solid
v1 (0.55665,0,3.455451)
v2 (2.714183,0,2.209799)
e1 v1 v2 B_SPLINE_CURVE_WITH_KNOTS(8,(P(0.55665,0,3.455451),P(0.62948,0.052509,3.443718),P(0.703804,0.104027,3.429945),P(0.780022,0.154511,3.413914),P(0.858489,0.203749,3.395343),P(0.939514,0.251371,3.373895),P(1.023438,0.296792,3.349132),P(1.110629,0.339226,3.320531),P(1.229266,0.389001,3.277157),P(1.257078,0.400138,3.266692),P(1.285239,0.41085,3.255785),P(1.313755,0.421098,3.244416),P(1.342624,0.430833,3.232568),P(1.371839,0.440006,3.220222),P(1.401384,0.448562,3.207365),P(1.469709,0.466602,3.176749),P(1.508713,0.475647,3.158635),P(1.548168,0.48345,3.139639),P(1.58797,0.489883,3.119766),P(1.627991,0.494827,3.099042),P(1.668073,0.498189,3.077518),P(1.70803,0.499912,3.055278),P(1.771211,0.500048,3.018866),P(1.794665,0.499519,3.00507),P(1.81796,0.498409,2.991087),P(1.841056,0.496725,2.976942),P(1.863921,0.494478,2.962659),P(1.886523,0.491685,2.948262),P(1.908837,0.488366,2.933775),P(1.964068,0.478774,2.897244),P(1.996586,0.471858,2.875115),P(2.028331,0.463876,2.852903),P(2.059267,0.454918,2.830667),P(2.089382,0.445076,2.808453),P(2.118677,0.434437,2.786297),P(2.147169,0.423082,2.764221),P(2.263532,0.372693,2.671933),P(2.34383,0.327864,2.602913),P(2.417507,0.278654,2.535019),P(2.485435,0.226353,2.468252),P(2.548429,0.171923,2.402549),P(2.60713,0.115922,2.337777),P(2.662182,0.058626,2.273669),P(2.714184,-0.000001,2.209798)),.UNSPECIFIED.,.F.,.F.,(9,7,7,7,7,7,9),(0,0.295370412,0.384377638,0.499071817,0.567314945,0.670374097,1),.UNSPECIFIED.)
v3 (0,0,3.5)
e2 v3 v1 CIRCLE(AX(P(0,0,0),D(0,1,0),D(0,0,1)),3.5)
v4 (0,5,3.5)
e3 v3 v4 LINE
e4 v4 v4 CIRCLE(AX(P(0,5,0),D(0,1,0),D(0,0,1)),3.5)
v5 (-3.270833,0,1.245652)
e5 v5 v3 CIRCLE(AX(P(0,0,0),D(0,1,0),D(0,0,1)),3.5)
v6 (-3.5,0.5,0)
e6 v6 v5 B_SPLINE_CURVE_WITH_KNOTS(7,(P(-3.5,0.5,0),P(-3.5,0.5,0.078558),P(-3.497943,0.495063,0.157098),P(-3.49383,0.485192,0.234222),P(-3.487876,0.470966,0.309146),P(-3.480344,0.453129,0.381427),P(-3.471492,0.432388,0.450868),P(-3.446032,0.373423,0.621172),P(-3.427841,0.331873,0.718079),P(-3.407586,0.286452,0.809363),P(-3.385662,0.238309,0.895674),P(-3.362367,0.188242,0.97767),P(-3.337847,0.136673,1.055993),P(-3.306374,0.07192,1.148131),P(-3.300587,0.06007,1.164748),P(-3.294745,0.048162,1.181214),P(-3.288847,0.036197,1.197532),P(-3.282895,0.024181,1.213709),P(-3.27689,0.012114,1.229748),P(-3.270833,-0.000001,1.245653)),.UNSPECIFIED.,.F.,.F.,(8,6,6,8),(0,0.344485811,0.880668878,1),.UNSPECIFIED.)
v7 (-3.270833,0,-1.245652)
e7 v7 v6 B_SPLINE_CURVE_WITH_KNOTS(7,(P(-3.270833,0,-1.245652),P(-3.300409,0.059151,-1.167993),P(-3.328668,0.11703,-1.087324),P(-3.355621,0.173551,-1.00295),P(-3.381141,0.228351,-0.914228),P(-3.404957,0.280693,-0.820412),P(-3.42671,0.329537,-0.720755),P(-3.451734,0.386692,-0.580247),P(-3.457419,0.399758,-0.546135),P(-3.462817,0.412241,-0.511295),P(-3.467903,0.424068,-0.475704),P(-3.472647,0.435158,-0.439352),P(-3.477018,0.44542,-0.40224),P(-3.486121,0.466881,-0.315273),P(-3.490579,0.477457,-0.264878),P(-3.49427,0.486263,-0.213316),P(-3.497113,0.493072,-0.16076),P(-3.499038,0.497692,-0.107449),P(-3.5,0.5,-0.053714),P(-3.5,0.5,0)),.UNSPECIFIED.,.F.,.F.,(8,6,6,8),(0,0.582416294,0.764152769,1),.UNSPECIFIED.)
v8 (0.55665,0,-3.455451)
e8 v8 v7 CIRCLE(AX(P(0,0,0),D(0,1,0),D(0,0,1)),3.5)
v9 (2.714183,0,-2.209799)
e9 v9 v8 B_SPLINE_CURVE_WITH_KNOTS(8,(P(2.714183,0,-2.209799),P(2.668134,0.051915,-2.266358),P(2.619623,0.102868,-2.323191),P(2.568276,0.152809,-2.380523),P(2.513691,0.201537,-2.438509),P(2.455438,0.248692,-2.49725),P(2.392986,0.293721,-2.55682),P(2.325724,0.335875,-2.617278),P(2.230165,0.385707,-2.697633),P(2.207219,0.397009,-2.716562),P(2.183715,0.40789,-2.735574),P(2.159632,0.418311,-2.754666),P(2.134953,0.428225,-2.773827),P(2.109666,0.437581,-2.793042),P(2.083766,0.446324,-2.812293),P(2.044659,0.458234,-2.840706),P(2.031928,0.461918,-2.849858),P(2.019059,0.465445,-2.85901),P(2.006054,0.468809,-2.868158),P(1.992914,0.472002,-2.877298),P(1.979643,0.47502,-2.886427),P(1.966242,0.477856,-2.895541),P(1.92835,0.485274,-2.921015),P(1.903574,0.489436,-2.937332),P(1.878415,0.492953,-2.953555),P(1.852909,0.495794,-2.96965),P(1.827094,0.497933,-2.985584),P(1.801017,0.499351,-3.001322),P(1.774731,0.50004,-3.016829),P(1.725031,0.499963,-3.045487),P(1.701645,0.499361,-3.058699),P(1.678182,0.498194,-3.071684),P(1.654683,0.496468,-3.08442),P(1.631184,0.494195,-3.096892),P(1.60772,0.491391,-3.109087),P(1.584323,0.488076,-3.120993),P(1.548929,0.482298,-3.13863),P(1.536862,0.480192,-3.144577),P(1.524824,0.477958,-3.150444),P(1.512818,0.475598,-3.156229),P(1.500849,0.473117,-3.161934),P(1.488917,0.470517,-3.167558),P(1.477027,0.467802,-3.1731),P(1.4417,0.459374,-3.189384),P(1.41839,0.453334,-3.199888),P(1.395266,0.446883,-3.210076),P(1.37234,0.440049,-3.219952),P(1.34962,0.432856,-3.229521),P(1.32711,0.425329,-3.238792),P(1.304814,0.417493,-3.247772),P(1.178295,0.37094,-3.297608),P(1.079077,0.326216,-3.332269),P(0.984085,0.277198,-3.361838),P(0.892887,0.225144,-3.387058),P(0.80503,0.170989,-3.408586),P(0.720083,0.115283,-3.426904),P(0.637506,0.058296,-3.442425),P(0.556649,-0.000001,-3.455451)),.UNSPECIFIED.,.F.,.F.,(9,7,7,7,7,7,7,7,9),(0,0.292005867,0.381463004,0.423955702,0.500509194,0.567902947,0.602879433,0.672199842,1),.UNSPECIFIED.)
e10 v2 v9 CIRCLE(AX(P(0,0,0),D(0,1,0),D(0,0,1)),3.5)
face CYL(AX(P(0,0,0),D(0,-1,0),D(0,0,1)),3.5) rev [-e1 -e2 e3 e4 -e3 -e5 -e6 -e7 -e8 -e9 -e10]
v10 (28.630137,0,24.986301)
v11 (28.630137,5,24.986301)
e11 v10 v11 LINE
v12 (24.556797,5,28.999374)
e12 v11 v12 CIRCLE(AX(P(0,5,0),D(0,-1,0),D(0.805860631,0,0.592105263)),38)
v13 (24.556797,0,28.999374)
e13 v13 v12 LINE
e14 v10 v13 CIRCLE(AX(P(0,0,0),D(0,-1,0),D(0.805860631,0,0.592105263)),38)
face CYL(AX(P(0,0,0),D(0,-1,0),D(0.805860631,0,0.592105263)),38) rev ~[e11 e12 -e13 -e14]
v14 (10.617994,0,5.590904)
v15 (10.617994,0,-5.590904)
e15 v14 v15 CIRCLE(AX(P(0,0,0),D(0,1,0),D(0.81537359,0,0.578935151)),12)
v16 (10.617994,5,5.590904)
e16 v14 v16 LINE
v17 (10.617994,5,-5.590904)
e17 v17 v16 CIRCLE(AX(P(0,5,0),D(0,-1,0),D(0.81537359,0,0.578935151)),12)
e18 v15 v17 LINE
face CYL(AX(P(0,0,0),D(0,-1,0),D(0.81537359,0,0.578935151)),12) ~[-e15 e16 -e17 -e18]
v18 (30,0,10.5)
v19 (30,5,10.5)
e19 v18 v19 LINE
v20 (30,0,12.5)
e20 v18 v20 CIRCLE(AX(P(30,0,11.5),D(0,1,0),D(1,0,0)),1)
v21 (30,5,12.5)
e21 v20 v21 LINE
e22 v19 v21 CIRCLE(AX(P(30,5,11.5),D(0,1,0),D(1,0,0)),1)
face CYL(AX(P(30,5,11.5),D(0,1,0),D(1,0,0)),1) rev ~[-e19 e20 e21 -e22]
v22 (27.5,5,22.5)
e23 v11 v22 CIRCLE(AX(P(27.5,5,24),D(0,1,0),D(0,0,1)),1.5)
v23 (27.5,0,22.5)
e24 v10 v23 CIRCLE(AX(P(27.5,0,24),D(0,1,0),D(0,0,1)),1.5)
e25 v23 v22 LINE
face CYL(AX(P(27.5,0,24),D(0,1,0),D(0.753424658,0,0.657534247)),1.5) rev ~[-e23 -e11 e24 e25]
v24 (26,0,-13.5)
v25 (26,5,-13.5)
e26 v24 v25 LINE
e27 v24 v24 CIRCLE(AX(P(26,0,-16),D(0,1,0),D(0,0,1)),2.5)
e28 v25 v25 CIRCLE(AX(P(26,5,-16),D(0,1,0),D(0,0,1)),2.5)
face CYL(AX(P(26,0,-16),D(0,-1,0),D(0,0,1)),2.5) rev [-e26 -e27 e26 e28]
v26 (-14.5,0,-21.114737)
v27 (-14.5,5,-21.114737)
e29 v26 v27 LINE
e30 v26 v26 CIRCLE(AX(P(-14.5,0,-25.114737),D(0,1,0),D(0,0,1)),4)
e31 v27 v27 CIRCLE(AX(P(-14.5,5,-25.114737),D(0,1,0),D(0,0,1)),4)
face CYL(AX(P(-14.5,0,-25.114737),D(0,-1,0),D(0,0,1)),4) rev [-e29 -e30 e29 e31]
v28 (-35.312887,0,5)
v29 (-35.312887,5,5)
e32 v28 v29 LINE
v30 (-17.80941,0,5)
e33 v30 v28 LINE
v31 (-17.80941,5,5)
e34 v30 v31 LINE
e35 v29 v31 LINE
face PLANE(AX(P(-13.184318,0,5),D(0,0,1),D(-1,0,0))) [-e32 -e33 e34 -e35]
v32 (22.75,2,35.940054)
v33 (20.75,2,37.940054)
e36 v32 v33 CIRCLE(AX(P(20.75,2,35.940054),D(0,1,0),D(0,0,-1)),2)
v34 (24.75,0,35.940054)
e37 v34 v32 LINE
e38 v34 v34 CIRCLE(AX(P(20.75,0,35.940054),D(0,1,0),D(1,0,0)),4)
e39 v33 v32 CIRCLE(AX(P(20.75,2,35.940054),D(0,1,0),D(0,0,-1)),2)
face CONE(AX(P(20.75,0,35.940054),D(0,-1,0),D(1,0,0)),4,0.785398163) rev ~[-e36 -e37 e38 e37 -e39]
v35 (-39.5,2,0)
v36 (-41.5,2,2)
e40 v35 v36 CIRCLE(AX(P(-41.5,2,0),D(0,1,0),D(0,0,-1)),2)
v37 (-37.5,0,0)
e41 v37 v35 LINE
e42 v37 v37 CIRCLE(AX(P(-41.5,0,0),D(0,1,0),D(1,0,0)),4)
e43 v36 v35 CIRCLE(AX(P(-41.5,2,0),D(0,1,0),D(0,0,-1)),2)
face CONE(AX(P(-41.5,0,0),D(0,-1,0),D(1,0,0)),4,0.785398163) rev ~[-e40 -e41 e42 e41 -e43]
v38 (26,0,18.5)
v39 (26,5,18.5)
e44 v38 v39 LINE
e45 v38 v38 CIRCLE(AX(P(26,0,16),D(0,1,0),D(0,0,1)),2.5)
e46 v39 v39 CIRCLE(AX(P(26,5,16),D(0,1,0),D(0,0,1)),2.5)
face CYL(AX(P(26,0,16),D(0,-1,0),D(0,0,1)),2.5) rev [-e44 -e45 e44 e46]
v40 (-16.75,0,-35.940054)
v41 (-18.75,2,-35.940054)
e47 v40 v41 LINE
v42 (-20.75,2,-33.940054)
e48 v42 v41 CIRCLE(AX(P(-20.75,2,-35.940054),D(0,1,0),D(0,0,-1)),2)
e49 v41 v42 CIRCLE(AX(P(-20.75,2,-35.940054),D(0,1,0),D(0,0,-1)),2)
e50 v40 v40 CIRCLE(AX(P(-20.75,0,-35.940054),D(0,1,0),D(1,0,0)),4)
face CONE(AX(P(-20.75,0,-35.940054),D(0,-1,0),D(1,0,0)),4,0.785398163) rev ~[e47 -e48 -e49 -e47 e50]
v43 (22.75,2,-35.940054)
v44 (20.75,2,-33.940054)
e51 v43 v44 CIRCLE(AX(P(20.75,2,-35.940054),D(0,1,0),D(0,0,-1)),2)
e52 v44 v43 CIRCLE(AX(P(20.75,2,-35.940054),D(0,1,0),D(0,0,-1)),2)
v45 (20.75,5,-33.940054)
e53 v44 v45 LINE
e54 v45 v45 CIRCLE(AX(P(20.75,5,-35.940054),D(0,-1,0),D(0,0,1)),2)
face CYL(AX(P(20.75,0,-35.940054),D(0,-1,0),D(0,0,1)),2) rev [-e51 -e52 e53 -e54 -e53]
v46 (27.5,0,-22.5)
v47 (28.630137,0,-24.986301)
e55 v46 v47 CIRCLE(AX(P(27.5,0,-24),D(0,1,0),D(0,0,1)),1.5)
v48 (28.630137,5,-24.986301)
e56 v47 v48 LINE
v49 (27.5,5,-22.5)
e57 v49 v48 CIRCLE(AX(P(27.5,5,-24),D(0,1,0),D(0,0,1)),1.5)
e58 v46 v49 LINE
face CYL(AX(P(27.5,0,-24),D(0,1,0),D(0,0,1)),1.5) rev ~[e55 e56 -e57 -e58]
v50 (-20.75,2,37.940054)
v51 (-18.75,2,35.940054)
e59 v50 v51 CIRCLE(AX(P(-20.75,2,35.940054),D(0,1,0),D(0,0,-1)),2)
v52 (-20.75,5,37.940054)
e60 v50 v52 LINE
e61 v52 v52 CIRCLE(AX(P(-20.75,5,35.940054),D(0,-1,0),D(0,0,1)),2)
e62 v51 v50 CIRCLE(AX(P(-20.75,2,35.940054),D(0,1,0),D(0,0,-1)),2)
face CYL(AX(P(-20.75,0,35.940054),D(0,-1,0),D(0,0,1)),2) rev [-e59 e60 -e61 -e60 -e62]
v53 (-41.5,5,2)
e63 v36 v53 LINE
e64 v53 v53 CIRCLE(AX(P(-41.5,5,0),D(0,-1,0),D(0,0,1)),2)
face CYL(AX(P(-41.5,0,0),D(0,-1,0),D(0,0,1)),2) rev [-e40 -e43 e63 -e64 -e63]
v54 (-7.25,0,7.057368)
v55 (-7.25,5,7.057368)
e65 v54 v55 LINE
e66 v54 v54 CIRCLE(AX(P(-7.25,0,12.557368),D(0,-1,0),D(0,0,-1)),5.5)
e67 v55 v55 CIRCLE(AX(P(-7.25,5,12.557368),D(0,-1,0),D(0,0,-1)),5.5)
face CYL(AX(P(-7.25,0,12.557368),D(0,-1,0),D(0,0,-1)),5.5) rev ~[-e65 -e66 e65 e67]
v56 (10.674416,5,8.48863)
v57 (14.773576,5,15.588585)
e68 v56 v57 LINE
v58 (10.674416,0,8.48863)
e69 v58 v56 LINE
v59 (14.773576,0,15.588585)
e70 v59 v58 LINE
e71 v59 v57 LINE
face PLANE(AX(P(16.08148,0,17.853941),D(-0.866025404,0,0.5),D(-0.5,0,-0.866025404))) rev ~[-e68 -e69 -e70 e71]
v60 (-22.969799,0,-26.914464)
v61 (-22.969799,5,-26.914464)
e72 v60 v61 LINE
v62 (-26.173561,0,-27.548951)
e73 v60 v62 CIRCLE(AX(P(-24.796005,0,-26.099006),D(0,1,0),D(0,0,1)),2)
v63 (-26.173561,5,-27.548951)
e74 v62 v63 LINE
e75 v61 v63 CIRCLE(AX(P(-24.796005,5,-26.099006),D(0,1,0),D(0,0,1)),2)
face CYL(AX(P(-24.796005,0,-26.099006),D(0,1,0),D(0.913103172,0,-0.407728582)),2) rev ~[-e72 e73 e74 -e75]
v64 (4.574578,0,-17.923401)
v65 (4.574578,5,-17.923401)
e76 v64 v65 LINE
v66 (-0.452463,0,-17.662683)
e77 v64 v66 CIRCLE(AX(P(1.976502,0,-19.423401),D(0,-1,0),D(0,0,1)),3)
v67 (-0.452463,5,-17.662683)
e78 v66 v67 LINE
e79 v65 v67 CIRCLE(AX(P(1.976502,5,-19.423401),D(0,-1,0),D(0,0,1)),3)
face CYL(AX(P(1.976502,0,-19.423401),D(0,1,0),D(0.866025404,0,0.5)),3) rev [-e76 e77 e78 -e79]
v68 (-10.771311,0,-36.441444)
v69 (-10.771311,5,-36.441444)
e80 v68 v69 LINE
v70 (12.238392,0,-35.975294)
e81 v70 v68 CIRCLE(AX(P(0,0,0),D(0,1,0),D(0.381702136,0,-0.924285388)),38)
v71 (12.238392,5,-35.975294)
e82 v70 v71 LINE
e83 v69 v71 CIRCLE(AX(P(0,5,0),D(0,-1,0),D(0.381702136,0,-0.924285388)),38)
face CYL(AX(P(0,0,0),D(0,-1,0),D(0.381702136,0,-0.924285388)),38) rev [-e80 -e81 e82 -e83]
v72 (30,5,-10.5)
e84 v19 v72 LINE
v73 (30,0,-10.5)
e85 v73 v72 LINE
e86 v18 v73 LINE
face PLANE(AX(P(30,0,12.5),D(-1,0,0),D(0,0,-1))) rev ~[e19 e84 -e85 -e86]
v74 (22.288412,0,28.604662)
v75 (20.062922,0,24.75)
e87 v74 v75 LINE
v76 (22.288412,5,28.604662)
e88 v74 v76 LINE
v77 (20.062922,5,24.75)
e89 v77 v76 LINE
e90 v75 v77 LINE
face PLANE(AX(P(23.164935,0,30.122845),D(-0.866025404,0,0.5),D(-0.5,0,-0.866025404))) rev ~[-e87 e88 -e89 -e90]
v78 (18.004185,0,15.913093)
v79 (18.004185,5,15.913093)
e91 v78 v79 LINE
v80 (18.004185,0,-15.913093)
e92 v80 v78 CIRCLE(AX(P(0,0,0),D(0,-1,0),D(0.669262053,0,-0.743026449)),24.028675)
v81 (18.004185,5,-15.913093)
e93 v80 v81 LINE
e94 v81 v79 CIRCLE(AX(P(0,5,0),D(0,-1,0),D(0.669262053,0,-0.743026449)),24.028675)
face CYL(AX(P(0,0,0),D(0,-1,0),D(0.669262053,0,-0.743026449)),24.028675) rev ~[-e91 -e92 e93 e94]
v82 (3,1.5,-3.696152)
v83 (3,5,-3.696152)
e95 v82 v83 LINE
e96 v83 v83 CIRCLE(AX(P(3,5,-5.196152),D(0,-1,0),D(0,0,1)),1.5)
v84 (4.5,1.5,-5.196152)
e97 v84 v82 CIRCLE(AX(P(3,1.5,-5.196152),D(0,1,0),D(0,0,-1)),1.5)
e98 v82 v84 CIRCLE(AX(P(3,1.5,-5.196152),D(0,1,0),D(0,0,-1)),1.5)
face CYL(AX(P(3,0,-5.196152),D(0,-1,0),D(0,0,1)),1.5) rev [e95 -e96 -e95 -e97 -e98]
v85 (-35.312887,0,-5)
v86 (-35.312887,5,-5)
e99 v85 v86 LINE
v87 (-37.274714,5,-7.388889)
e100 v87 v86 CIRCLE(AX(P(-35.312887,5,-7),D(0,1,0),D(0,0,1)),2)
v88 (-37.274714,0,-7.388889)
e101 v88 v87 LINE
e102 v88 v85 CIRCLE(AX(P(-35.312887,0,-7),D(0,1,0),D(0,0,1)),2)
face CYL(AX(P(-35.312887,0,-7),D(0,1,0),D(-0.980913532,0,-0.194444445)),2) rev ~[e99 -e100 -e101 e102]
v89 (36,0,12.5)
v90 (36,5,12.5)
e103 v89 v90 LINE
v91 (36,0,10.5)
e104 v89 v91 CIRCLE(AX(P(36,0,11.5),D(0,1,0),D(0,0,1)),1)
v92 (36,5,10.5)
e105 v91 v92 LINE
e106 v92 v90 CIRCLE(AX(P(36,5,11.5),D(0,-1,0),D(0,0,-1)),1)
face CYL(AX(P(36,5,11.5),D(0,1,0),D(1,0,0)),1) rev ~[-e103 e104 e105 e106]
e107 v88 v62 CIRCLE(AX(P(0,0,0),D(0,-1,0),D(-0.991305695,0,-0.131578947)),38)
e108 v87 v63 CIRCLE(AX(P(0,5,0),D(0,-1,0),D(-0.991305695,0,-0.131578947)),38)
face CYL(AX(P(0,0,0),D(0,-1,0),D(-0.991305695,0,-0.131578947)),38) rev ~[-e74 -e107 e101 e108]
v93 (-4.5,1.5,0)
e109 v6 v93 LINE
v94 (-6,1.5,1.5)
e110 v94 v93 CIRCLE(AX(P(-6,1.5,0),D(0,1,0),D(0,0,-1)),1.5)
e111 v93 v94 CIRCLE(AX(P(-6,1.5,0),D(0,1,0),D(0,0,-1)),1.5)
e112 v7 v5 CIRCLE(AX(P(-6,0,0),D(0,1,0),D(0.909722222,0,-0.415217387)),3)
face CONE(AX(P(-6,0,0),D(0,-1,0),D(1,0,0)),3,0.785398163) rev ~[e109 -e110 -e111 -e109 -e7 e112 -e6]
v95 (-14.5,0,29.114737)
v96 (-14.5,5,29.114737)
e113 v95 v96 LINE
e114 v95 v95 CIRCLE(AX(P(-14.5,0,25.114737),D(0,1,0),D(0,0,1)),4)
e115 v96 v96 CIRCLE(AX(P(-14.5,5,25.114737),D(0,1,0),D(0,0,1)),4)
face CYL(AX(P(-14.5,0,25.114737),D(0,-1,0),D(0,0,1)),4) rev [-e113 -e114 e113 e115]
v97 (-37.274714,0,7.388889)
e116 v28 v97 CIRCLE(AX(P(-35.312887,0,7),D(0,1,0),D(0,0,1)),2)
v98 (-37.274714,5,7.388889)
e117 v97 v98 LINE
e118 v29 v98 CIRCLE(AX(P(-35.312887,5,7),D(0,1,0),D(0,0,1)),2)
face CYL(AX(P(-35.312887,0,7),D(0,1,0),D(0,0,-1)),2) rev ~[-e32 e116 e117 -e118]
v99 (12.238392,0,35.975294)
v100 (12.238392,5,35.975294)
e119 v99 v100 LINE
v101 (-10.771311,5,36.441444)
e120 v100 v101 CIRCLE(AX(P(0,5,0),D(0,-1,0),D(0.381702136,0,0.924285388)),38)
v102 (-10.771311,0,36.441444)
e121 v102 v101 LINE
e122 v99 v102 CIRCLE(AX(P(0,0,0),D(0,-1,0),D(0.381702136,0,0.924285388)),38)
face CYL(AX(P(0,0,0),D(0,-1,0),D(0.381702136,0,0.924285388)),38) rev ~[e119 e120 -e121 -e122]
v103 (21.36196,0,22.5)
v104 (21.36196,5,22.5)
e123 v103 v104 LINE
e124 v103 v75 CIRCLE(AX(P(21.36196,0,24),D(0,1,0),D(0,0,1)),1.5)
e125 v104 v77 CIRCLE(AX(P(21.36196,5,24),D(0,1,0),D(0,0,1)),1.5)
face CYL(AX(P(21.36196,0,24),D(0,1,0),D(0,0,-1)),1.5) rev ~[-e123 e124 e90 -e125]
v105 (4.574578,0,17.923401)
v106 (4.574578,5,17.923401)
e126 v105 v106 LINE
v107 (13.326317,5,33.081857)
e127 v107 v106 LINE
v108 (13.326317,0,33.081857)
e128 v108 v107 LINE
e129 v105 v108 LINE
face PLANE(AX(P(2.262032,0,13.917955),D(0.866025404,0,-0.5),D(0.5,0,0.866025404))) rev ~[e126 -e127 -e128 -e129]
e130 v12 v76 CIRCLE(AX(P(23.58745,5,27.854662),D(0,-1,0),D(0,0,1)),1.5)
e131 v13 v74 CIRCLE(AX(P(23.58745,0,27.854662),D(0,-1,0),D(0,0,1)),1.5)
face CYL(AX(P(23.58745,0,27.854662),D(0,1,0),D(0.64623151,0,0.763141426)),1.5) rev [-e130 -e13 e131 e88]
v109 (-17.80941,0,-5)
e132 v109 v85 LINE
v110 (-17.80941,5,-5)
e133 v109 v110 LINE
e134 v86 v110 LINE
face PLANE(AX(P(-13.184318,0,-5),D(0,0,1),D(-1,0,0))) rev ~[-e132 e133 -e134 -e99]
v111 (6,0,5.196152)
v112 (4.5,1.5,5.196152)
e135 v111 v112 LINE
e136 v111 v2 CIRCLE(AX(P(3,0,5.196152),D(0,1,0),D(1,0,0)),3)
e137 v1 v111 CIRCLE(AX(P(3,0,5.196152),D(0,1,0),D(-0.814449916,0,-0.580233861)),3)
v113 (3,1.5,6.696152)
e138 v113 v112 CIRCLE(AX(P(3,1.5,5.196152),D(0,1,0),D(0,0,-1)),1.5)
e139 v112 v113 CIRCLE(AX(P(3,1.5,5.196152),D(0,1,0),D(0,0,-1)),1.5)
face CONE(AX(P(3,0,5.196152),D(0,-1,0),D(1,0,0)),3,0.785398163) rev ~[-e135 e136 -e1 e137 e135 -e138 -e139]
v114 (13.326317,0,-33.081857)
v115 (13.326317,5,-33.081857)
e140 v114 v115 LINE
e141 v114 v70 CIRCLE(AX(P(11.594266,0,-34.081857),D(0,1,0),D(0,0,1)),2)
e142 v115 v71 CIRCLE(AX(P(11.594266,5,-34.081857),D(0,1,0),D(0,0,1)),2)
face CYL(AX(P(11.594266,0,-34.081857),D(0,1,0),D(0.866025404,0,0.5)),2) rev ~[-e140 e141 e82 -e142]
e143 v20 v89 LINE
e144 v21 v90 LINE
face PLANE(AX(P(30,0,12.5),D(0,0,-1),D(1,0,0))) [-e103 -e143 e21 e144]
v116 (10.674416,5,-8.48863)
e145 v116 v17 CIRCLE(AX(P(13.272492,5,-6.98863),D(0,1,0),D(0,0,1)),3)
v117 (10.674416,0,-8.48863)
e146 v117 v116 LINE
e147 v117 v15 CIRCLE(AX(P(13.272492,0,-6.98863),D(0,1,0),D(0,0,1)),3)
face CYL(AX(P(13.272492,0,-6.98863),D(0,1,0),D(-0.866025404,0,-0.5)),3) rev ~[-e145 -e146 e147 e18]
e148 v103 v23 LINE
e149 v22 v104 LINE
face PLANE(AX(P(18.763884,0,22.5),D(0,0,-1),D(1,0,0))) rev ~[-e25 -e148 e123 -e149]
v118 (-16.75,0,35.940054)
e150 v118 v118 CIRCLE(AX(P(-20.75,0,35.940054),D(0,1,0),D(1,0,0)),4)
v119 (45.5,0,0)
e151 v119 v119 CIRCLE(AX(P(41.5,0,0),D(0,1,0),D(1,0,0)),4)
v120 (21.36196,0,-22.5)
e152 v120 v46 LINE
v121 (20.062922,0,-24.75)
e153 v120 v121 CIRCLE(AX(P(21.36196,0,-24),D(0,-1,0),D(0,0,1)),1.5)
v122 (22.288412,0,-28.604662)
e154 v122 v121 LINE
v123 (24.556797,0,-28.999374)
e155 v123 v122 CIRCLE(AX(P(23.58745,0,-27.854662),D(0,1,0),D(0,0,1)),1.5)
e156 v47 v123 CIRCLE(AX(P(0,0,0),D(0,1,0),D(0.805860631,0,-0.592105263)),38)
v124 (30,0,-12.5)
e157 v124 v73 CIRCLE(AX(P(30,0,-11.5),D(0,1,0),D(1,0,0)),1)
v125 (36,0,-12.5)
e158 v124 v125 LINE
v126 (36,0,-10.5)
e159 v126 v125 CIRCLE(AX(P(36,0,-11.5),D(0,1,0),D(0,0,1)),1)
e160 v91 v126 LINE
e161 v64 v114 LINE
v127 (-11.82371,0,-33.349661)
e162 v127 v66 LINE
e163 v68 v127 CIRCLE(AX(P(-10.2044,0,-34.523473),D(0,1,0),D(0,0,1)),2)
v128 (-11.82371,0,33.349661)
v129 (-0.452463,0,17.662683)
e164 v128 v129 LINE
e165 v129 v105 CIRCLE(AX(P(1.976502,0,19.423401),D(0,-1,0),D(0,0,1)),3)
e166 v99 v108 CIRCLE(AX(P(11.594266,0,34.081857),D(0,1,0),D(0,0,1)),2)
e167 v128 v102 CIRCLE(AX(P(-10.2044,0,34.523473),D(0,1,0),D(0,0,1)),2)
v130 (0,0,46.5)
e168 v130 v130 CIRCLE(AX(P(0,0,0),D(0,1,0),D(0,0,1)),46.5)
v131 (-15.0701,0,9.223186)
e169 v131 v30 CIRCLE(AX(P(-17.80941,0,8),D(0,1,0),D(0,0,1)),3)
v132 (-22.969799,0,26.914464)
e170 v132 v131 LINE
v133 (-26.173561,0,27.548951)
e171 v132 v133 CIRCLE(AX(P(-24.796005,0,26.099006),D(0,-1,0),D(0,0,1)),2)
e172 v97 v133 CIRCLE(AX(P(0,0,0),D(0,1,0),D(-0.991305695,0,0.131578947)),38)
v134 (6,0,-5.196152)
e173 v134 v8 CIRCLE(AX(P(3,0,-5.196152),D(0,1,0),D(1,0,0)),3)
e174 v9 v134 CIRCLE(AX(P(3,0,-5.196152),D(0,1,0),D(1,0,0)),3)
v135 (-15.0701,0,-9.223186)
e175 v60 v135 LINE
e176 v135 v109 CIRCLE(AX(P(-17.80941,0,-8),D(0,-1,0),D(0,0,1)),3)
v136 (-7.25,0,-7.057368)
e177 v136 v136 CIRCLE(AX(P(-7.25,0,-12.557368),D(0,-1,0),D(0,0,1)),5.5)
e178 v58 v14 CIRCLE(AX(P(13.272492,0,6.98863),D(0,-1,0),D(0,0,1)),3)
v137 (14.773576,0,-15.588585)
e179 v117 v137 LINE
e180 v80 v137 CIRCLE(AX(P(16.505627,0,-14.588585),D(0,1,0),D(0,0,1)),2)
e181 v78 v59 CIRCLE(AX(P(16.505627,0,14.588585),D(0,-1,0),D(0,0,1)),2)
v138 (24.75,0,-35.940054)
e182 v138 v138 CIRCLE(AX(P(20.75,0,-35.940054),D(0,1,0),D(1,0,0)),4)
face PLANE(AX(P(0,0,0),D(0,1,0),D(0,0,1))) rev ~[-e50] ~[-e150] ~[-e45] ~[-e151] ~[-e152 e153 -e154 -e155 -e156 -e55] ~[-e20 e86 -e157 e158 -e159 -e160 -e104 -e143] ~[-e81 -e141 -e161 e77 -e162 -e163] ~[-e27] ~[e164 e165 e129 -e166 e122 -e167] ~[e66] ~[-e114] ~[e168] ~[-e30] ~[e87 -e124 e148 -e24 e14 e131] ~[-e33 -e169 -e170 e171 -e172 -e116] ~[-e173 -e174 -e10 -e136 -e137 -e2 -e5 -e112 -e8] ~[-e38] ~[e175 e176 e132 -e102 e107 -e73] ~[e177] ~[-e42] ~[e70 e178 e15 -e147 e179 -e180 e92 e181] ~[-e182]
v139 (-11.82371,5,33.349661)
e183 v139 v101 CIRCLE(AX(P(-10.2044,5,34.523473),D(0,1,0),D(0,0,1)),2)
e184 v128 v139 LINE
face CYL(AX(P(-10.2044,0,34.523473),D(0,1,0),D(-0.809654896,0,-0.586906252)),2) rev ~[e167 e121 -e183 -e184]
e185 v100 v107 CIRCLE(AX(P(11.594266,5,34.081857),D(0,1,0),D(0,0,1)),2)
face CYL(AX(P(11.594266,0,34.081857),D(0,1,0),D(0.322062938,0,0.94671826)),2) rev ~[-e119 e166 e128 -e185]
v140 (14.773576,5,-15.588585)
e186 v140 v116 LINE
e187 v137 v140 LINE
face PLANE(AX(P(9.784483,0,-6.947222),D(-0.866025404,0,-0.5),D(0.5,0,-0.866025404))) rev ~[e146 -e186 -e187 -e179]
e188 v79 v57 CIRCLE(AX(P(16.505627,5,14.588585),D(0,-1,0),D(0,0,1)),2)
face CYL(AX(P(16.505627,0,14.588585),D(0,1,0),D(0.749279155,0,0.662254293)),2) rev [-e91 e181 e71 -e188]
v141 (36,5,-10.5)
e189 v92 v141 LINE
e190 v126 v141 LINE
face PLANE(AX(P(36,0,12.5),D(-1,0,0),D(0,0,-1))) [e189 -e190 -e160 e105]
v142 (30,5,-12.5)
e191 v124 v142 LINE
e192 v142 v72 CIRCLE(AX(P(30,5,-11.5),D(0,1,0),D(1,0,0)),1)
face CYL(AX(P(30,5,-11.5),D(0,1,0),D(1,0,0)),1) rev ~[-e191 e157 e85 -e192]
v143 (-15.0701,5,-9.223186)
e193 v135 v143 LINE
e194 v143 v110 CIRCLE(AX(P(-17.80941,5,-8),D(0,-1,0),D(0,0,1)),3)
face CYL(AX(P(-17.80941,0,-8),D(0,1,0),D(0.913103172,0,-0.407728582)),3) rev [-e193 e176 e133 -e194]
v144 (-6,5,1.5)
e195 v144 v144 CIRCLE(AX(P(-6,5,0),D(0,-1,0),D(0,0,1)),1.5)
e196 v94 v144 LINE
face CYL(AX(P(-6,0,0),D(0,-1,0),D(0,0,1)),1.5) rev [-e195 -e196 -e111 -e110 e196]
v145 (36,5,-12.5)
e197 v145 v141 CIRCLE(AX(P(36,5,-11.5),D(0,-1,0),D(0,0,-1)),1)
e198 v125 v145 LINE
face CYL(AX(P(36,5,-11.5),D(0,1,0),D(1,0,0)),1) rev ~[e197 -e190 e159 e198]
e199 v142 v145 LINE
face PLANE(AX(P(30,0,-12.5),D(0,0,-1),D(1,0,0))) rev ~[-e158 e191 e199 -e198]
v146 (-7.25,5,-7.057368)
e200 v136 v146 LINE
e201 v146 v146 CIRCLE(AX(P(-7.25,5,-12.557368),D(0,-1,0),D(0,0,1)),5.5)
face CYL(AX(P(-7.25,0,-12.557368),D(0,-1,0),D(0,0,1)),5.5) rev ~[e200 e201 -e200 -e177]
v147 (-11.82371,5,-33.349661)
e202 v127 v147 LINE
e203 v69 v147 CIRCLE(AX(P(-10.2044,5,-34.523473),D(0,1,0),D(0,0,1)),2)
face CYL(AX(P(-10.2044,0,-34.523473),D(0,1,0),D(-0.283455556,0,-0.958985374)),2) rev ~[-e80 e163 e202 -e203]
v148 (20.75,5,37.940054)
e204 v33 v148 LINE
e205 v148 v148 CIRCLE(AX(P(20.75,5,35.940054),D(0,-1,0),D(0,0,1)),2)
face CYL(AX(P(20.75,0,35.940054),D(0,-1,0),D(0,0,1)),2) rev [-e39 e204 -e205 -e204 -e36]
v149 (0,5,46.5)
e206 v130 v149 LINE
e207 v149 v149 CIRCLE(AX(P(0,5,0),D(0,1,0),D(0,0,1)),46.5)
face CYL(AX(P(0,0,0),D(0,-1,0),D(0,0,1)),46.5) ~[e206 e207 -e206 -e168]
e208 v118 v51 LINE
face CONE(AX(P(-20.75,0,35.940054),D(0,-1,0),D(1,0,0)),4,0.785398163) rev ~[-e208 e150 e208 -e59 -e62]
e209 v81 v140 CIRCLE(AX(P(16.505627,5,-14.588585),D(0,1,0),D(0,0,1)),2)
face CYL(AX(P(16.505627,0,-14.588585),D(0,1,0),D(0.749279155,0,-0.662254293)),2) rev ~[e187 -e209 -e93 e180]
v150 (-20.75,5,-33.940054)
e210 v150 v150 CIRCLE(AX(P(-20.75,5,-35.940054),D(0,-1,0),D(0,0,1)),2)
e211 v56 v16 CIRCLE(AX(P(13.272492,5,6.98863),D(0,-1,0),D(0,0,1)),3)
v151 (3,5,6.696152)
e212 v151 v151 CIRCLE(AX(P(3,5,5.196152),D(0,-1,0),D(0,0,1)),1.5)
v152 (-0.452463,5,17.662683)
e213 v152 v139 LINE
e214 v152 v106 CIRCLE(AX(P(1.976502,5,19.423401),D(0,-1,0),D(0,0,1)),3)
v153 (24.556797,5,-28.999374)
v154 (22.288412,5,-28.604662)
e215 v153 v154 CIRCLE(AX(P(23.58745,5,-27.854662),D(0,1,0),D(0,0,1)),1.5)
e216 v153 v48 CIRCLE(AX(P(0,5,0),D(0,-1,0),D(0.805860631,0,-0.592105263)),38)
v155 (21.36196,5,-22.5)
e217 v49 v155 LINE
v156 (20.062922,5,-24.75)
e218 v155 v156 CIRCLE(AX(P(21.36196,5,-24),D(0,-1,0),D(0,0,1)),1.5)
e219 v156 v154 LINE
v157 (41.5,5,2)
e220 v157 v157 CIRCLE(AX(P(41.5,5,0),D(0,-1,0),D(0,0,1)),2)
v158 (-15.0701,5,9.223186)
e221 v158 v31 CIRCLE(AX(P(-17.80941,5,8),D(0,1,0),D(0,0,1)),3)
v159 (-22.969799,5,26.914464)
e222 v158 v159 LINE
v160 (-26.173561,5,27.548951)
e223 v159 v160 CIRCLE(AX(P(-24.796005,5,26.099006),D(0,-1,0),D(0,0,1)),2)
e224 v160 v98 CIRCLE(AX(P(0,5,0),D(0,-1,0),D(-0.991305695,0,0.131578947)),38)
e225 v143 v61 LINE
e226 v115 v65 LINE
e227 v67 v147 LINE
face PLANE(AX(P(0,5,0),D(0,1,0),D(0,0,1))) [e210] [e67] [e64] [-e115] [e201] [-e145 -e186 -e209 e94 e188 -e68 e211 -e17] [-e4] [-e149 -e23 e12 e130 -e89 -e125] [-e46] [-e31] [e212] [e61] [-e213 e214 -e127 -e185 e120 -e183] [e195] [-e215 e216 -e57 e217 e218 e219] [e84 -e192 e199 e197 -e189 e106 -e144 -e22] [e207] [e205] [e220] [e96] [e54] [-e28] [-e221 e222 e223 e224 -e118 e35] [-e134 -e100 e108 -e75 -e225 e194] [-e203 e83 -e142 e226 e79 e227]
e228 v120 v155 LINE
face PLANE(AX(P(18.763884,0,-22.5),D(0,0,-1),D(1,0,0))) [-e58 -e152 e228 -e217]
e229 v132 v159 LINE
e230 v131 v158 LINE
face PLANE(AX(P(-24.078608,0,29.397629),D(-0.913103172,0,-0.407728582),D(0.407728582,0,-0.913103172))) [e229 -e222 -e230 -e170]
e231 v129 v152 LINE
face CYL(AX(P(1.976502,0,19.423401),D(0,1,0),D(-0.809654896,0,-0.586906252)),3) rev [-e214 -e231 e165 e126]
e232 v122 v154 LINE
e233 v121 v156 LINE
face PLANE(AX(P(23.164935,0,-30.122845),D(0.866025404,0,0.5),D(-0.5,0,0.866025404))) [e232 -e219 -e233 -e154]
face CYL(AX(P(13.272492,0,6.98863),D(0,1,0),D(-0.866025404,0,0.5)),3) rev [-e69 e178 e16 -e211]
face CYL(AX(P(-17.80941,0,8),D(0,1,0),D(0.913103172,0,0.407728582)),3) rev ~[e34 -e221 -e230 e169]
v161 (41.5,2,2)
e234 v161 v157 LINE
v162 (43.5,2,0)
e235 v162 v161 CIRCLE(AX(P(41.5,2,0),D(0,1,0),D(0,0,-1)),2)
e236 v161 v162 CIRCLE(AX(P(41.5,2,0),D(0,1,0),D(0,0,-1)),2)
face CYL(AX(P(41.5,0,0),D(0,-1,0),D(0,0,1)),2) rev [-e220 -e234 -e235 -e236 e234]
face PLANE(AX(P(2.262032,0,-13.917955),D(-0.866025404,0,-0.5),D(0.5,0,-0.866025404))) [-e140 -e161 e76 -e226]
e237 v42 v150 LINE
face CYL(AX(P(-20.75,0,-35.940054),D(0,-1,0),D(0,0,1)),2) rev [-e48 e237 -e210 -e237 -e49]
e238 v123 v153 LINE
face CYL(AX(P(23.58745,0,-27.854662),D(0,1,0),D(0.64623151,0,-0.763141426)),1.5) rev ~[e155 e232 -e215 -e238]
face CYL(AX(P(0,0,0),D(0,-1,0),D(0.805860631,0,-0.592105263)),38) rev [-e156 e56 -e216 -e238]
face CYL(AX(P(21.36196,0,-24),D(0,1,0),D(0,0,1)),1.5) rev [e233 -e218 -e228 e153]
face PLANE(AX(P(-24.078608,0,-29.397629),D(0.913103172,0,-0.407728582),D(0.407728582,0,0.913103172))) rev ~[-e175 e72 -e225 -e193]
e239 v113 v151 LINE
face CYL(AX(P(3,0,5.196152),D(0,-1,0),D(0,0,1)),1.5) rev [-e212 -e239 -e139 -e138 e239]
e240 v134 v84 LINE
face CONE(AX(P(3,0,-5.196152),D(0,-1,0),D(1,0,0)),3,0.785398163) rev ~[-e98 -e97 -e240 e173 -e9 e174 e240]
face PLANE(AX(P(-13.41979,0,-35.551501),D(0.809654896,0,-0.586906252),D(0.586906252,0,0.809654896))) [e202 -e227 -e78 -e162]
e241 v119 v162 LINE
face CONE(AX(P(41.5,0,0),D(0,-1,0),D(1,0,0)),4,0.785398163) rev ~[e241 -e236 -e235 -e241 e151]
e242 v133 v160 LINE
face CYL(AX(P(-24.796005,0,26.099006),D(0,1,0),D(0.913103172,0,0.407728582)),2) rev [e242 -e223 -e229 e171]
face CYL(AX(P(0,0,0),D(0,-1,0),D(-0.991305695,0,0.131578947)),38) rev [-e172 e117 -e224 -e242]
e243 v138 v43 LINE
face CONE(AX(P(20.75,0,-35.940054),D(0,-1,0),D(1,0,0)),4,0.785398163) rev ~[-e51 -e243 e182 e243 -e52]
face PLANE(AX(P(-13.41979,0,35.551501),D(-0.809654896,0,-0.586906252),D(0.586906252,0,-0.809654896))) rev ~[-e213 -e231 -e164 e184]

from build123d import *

# Parameters (mm, degrees)
SKETCH_1_R                = 46.5
SKETCH_1_R_2              = 2
SKETCH_1_R_3              = 3.5
SKETCH_1_R_4              = 2.5
SKETCH_1_R_5              = 4
SKETCH_1_R_6              = 1.5
SKETCH_1_W                = 6
SKETCH_1_H                = 25
EXTRUDE_1_DEPTH           = 5
HOLE_WIZARD_1_D           = 3
HOLE_WIZARD_1_CSINK_D     = 6
HOLE_WIZARD_1_CSINK_ANGLE = 90
HOLE_WIZARD_2_D           = 4
HOLE_WIZARD_2_CSINK_D     = 8
HOLE_WIZARD_2_CSINK_ANGLE = 90
SKETCH_4_R                = 1
CUT_EXTRUDE_1_DEPTH       = 66.9507392
SKETCH_5_R                = 5.5
CUT_EXTRUDE_2_DEPTH       = 66.9507392
FILLET_1_R                = 2
FILLET_2_R                = 3
FILLET_3_R                = 1.5


with BuildPart() as part:
    # 草图1 → 凸台-拉伸1 (new body)
    with BuildSketch(Plane(origin=(0, 0, 0), x_dir=(1, 0, 0), z_dir=(0, 1, 0))):
        with Locations(Location((0, 0, 0), (0, 0, 270))):
            Circle(SKETCH_1_R)
        with Locations(Location((-20.75, 35.940054257, 0), (0, 0, 270))):
            Circle(SKETCH_1_R_2, mode=Mode.SUBTRACT)
        with Locations(Location((20.75, 35.940054257, 0), (0, 0, 270))):
            Circle(SKETCH_1_R_2, mode=Mode.SUBTRACT)
        with Locations(Location((41.5, 0, 0), (0, 0, 270))):
            Circle(SKETCH_1_R_2, mode=Mode.SUBTRACT)
        with Locations(Location((20.75, -35.940054257, 0), (0, 0, 270))):
            Circle(SKETCH_1_R_2, mode=Mode.SUBTRACT)
        with Locations(Location((0, 0, 0), (0, 0, 270))):
            Circle(SKETCH_1_R_3, mode=Mode.SUBTRACT)
        with Locations(Location((-20.75, -35.940054257, 0), (0, 0, 270))):
            Circle(SKETCH_1_R_2, mode=Mode.SUBTRACT)
        with Locations(Location((-41.5, 0, 0), (0, 0, 270))):
            Circle(SKETCH_1_R_2, mode=Mode.SUBTRACT)
        with Locations(Location((26, 16, 0), (0, 0, 270))):
            Circle(SKETCH_1_R_4, mode=Mode.SUBTRACT)
        with Locations(Location((26, -16, 0), (0, 0, 270))):
            Circle(SKETCH_1_R_4, mode=Mode.SUBTRACT)
        with Locations(Location((-14.5, 25.11473671, 0), (0, 0, 270))):
            Circle(SKETCH_1_R_5, mode=Mode.SUBTRACT)
        with Locations(Location((-6, 0, 0), (0, 0, 270))):
            Circle(SKETCH_1_R_6, mode=Mode.SUBTRACT)
        with Locations(Location((3, 5.196152423, 0), (0, 0, 270))):
            Circle(SKETCH_1_R_6, mode=Mode.SUBTRACT)
        with Locations(Location((3, -5.196152423, 0), (0, 0, 270))):
            Circle(SKETCH_1_R_6, mode=Mode.SUBTRACT)
        with Locations(Location((-14.5, -25.11473671, 0), (0, 0, 270))):
            Circle(SKETCH_1_R_5, mode=Mode.SUBTRACT)
        with Locations((33, 0)):
            Rectangle(SKETCH_1_W, SKETCH_1_H, mode=Mode.SUBTRACT)
    extrude(amount=EXTRUDE_1_DEPTH)

    # 孔1 (through all)
    with Locations(Plane(origin=(0, 0, 0), x_dir=(-1, 0, 0), z_dir=(0, -1, 0))):
        with Locations((-3, 5.196152423), (6, 0), (-3, -5.196152423)):
            CounterSinkHole(HOLE_WIZARD_1_D / 2, HOLE_WIZARD_1_CSINK_D / 2, counter_sink_angle=HOLE_WIZARD_1_CSINK_ANGLE)

    # 孔2 (through all)
    with Locations(Plane(origin=(0, 0, 0), x_dir=(-1, 0, 0), z_dir=(0, -1, 0))):
        with Locations((-41.5, 0), (-20.75, 35.940054257), (20.75, 35.940054257), (41.5, 0), (20.75, -35.940054257), (-20.75, -35.940054257)):
            CounterSinkHole(HOLE_WIZARD_2_D / 2, HOLE_WIZARD_2_CSINK_D / 2, counter_sink_angle=HOLE_WIZARD_2_CSINK_ANGLE)

    # 草图4 → 切除-拉伸1 (cut, through all)
    with BuildSketch(Plane(origin=(0, 5, 0), x_dir=(1, 0, 0), z_dir=(0, 1, 0))):
        with Locations((30, 11.5)):
            Circle(SKETCH_4_R)
        with Locations((30, -11.5)):
            Circle(SKETCH_4_R)
        with Locations((36, -11.5)):
            Circle(SKETCH_4_R)
        with Locations((36, 11.5)):
            Circle(SKETCH_4_R)
    extrude(amount=-CUT_EXTRUDE_1_DEPTH, mode=Mode.SUBTRACT)

    # 草图5 → 切除-拉伸2 (cut, through all)
    with BuildSketch(Plane.XZ):
        with Locations(Location((-7.25, 12.557368355, 0), (0, 0, 270))):
            Circle(SKETCH_5_R)
        with Locations(Location((-7.25, -12.557368355, 0), (0, 0, 90))):
            Circle(SKETCH_5_R)
        with BuildLine():
            Line((-24.078608458, 29.397629407), (-13.184318354, 5))
            Line((-13.184318354, 5), (-37.669616404, 5))
            ThreePointArc((-37.669616404, 5), (-33.196715177, 18.49264993), (-24.078608458, 29.397629407))
        make_face()
        with BuildLine():
            Line((2.262032158, 13.917954626), (14.504681183, 35.122844756))
            ThreePointArc((14.504681183, 35.122844756), (0.583252966, 37.995523631), (-13.419789648, 35.551501316))
            Line((-13.419789648, 35.551501316), (2.262032158, 13.917954626))
        make_face()
        with BuildLine():
            Line((16.081480392, 17.8539411), (9.784483076, 6.947221814))
            ThreePointArc((9.784483076, 6.947221814), (12, 0), (9.784483076, -6.947221814))
            Line((9.784483076, -6.947221814), (16.081480392, -17.8539411))
            ThreePointArc((16.081480392, -17.8539411), (24.028675045, 0), (16.081480392, 17.8539411))
        make_face()
        with BuildLine():
            Line((23.164935221, 30.122844756), (18.763883749, 22.5))
            Line((18.763883749, 22.5), (30.622703996, 22.5))
            ThreePointArc((30.622703996, 22.5), (27.162556464, 26.574339622), (23.164935221, 30.122844756))
        make_face()
        with BuildLine():
            Line((18.763883749, -22.5), (30.622703996, -22.5))
            ThreePointArc((30.622703996, -22.5), (27.162556464, -26.574339622), (23.164935221, -30.122844756))
            Line((23.164935221, -30.122844756), (18.763883749, -22.5))
        make_face()
        with BuildLine():
            Line((2.262032158, -13.917954626), (14.504681183, -35.122844756))
            ThreePointArc((14.504681183, -35.122844756), (0.583252966, -37.995523631), (-13.419789648, -35.551501316))
            Line((-13.419789648, -35.551501316), (2.262032158, -13.917954626))
        make_face()
        with BuildLine():
            Line((-13.184318354, -5), (-37.669616404, -5))
            ThreePointArc((-37.669616404, -5), (-33.196715177, -18.49264993), (-24.078608458, -29.397629407))
            Line((-24.078608458, -29.397629407), (-13.184318354, -5))
        make_face()
    extrude(amount=-CUT_EXTRUDE_2_DEPTH, mode=Mode.SUBTRACT)

    # 圆角1
    fillet_1_edges = [part.edges().sort_by_distance(p)[0] for p in [
        (-13.419789648, 2.5, 35.551501316),
        (14.504681183, 2.5, 35.122844756),
        (16.081480392, 2.5, 17.8539411),
        (16.081480392, 2.5, -17.8539411),
        (-37.669616404, 2.5, 5),
        (-24.078608458, 2.5, 29.397629407),
        (-24.078608458, 2.5, -29.397629407),
        (-37.669616404, 2.5, -5),
        (14.504681183, 2.5, -35.122844756),
        (-13.419789648, 2.5, -35.551501316),
    ]]
    fillet(fillet_1_edges, radius=FILLET_1_R)

    # 圆角2
    fillet_2_edges = [part.edges().sort_by_distance(p)[0] for p in [
        (2.262032158, 2.5, 13.917954626),
        (9.784483076, 2.5, -6.947221814),
        (9.784483076, 2.5, 6.947221814),
        (-13.184318354, 2.5, 5),
        (-13.184318354, 2.5, -5),
        (2.262032158, 2.5, -13.917954626),
    ]]
    fillet(fillet_2_edges, radius=FILLET_2_R)

    # 圆角3
    fillet_3_edges = [part.edges().sort_by_distance(p)[0] for p in [
        (23.164935221, 2.5, 30.122844756),
        (30.622703996, 2.5, 22.5),
        (18.763883749, 2.5, 22.5),
        (23.164935221, 2.5, -30.122844756),
        (18.763883749, 2.5, -22.5),
        (30.622703996, 2.5, -22.5),
    ]]
    fillet(fillet_3_edges, radius=FILLET_3_R)


solid = part.part
